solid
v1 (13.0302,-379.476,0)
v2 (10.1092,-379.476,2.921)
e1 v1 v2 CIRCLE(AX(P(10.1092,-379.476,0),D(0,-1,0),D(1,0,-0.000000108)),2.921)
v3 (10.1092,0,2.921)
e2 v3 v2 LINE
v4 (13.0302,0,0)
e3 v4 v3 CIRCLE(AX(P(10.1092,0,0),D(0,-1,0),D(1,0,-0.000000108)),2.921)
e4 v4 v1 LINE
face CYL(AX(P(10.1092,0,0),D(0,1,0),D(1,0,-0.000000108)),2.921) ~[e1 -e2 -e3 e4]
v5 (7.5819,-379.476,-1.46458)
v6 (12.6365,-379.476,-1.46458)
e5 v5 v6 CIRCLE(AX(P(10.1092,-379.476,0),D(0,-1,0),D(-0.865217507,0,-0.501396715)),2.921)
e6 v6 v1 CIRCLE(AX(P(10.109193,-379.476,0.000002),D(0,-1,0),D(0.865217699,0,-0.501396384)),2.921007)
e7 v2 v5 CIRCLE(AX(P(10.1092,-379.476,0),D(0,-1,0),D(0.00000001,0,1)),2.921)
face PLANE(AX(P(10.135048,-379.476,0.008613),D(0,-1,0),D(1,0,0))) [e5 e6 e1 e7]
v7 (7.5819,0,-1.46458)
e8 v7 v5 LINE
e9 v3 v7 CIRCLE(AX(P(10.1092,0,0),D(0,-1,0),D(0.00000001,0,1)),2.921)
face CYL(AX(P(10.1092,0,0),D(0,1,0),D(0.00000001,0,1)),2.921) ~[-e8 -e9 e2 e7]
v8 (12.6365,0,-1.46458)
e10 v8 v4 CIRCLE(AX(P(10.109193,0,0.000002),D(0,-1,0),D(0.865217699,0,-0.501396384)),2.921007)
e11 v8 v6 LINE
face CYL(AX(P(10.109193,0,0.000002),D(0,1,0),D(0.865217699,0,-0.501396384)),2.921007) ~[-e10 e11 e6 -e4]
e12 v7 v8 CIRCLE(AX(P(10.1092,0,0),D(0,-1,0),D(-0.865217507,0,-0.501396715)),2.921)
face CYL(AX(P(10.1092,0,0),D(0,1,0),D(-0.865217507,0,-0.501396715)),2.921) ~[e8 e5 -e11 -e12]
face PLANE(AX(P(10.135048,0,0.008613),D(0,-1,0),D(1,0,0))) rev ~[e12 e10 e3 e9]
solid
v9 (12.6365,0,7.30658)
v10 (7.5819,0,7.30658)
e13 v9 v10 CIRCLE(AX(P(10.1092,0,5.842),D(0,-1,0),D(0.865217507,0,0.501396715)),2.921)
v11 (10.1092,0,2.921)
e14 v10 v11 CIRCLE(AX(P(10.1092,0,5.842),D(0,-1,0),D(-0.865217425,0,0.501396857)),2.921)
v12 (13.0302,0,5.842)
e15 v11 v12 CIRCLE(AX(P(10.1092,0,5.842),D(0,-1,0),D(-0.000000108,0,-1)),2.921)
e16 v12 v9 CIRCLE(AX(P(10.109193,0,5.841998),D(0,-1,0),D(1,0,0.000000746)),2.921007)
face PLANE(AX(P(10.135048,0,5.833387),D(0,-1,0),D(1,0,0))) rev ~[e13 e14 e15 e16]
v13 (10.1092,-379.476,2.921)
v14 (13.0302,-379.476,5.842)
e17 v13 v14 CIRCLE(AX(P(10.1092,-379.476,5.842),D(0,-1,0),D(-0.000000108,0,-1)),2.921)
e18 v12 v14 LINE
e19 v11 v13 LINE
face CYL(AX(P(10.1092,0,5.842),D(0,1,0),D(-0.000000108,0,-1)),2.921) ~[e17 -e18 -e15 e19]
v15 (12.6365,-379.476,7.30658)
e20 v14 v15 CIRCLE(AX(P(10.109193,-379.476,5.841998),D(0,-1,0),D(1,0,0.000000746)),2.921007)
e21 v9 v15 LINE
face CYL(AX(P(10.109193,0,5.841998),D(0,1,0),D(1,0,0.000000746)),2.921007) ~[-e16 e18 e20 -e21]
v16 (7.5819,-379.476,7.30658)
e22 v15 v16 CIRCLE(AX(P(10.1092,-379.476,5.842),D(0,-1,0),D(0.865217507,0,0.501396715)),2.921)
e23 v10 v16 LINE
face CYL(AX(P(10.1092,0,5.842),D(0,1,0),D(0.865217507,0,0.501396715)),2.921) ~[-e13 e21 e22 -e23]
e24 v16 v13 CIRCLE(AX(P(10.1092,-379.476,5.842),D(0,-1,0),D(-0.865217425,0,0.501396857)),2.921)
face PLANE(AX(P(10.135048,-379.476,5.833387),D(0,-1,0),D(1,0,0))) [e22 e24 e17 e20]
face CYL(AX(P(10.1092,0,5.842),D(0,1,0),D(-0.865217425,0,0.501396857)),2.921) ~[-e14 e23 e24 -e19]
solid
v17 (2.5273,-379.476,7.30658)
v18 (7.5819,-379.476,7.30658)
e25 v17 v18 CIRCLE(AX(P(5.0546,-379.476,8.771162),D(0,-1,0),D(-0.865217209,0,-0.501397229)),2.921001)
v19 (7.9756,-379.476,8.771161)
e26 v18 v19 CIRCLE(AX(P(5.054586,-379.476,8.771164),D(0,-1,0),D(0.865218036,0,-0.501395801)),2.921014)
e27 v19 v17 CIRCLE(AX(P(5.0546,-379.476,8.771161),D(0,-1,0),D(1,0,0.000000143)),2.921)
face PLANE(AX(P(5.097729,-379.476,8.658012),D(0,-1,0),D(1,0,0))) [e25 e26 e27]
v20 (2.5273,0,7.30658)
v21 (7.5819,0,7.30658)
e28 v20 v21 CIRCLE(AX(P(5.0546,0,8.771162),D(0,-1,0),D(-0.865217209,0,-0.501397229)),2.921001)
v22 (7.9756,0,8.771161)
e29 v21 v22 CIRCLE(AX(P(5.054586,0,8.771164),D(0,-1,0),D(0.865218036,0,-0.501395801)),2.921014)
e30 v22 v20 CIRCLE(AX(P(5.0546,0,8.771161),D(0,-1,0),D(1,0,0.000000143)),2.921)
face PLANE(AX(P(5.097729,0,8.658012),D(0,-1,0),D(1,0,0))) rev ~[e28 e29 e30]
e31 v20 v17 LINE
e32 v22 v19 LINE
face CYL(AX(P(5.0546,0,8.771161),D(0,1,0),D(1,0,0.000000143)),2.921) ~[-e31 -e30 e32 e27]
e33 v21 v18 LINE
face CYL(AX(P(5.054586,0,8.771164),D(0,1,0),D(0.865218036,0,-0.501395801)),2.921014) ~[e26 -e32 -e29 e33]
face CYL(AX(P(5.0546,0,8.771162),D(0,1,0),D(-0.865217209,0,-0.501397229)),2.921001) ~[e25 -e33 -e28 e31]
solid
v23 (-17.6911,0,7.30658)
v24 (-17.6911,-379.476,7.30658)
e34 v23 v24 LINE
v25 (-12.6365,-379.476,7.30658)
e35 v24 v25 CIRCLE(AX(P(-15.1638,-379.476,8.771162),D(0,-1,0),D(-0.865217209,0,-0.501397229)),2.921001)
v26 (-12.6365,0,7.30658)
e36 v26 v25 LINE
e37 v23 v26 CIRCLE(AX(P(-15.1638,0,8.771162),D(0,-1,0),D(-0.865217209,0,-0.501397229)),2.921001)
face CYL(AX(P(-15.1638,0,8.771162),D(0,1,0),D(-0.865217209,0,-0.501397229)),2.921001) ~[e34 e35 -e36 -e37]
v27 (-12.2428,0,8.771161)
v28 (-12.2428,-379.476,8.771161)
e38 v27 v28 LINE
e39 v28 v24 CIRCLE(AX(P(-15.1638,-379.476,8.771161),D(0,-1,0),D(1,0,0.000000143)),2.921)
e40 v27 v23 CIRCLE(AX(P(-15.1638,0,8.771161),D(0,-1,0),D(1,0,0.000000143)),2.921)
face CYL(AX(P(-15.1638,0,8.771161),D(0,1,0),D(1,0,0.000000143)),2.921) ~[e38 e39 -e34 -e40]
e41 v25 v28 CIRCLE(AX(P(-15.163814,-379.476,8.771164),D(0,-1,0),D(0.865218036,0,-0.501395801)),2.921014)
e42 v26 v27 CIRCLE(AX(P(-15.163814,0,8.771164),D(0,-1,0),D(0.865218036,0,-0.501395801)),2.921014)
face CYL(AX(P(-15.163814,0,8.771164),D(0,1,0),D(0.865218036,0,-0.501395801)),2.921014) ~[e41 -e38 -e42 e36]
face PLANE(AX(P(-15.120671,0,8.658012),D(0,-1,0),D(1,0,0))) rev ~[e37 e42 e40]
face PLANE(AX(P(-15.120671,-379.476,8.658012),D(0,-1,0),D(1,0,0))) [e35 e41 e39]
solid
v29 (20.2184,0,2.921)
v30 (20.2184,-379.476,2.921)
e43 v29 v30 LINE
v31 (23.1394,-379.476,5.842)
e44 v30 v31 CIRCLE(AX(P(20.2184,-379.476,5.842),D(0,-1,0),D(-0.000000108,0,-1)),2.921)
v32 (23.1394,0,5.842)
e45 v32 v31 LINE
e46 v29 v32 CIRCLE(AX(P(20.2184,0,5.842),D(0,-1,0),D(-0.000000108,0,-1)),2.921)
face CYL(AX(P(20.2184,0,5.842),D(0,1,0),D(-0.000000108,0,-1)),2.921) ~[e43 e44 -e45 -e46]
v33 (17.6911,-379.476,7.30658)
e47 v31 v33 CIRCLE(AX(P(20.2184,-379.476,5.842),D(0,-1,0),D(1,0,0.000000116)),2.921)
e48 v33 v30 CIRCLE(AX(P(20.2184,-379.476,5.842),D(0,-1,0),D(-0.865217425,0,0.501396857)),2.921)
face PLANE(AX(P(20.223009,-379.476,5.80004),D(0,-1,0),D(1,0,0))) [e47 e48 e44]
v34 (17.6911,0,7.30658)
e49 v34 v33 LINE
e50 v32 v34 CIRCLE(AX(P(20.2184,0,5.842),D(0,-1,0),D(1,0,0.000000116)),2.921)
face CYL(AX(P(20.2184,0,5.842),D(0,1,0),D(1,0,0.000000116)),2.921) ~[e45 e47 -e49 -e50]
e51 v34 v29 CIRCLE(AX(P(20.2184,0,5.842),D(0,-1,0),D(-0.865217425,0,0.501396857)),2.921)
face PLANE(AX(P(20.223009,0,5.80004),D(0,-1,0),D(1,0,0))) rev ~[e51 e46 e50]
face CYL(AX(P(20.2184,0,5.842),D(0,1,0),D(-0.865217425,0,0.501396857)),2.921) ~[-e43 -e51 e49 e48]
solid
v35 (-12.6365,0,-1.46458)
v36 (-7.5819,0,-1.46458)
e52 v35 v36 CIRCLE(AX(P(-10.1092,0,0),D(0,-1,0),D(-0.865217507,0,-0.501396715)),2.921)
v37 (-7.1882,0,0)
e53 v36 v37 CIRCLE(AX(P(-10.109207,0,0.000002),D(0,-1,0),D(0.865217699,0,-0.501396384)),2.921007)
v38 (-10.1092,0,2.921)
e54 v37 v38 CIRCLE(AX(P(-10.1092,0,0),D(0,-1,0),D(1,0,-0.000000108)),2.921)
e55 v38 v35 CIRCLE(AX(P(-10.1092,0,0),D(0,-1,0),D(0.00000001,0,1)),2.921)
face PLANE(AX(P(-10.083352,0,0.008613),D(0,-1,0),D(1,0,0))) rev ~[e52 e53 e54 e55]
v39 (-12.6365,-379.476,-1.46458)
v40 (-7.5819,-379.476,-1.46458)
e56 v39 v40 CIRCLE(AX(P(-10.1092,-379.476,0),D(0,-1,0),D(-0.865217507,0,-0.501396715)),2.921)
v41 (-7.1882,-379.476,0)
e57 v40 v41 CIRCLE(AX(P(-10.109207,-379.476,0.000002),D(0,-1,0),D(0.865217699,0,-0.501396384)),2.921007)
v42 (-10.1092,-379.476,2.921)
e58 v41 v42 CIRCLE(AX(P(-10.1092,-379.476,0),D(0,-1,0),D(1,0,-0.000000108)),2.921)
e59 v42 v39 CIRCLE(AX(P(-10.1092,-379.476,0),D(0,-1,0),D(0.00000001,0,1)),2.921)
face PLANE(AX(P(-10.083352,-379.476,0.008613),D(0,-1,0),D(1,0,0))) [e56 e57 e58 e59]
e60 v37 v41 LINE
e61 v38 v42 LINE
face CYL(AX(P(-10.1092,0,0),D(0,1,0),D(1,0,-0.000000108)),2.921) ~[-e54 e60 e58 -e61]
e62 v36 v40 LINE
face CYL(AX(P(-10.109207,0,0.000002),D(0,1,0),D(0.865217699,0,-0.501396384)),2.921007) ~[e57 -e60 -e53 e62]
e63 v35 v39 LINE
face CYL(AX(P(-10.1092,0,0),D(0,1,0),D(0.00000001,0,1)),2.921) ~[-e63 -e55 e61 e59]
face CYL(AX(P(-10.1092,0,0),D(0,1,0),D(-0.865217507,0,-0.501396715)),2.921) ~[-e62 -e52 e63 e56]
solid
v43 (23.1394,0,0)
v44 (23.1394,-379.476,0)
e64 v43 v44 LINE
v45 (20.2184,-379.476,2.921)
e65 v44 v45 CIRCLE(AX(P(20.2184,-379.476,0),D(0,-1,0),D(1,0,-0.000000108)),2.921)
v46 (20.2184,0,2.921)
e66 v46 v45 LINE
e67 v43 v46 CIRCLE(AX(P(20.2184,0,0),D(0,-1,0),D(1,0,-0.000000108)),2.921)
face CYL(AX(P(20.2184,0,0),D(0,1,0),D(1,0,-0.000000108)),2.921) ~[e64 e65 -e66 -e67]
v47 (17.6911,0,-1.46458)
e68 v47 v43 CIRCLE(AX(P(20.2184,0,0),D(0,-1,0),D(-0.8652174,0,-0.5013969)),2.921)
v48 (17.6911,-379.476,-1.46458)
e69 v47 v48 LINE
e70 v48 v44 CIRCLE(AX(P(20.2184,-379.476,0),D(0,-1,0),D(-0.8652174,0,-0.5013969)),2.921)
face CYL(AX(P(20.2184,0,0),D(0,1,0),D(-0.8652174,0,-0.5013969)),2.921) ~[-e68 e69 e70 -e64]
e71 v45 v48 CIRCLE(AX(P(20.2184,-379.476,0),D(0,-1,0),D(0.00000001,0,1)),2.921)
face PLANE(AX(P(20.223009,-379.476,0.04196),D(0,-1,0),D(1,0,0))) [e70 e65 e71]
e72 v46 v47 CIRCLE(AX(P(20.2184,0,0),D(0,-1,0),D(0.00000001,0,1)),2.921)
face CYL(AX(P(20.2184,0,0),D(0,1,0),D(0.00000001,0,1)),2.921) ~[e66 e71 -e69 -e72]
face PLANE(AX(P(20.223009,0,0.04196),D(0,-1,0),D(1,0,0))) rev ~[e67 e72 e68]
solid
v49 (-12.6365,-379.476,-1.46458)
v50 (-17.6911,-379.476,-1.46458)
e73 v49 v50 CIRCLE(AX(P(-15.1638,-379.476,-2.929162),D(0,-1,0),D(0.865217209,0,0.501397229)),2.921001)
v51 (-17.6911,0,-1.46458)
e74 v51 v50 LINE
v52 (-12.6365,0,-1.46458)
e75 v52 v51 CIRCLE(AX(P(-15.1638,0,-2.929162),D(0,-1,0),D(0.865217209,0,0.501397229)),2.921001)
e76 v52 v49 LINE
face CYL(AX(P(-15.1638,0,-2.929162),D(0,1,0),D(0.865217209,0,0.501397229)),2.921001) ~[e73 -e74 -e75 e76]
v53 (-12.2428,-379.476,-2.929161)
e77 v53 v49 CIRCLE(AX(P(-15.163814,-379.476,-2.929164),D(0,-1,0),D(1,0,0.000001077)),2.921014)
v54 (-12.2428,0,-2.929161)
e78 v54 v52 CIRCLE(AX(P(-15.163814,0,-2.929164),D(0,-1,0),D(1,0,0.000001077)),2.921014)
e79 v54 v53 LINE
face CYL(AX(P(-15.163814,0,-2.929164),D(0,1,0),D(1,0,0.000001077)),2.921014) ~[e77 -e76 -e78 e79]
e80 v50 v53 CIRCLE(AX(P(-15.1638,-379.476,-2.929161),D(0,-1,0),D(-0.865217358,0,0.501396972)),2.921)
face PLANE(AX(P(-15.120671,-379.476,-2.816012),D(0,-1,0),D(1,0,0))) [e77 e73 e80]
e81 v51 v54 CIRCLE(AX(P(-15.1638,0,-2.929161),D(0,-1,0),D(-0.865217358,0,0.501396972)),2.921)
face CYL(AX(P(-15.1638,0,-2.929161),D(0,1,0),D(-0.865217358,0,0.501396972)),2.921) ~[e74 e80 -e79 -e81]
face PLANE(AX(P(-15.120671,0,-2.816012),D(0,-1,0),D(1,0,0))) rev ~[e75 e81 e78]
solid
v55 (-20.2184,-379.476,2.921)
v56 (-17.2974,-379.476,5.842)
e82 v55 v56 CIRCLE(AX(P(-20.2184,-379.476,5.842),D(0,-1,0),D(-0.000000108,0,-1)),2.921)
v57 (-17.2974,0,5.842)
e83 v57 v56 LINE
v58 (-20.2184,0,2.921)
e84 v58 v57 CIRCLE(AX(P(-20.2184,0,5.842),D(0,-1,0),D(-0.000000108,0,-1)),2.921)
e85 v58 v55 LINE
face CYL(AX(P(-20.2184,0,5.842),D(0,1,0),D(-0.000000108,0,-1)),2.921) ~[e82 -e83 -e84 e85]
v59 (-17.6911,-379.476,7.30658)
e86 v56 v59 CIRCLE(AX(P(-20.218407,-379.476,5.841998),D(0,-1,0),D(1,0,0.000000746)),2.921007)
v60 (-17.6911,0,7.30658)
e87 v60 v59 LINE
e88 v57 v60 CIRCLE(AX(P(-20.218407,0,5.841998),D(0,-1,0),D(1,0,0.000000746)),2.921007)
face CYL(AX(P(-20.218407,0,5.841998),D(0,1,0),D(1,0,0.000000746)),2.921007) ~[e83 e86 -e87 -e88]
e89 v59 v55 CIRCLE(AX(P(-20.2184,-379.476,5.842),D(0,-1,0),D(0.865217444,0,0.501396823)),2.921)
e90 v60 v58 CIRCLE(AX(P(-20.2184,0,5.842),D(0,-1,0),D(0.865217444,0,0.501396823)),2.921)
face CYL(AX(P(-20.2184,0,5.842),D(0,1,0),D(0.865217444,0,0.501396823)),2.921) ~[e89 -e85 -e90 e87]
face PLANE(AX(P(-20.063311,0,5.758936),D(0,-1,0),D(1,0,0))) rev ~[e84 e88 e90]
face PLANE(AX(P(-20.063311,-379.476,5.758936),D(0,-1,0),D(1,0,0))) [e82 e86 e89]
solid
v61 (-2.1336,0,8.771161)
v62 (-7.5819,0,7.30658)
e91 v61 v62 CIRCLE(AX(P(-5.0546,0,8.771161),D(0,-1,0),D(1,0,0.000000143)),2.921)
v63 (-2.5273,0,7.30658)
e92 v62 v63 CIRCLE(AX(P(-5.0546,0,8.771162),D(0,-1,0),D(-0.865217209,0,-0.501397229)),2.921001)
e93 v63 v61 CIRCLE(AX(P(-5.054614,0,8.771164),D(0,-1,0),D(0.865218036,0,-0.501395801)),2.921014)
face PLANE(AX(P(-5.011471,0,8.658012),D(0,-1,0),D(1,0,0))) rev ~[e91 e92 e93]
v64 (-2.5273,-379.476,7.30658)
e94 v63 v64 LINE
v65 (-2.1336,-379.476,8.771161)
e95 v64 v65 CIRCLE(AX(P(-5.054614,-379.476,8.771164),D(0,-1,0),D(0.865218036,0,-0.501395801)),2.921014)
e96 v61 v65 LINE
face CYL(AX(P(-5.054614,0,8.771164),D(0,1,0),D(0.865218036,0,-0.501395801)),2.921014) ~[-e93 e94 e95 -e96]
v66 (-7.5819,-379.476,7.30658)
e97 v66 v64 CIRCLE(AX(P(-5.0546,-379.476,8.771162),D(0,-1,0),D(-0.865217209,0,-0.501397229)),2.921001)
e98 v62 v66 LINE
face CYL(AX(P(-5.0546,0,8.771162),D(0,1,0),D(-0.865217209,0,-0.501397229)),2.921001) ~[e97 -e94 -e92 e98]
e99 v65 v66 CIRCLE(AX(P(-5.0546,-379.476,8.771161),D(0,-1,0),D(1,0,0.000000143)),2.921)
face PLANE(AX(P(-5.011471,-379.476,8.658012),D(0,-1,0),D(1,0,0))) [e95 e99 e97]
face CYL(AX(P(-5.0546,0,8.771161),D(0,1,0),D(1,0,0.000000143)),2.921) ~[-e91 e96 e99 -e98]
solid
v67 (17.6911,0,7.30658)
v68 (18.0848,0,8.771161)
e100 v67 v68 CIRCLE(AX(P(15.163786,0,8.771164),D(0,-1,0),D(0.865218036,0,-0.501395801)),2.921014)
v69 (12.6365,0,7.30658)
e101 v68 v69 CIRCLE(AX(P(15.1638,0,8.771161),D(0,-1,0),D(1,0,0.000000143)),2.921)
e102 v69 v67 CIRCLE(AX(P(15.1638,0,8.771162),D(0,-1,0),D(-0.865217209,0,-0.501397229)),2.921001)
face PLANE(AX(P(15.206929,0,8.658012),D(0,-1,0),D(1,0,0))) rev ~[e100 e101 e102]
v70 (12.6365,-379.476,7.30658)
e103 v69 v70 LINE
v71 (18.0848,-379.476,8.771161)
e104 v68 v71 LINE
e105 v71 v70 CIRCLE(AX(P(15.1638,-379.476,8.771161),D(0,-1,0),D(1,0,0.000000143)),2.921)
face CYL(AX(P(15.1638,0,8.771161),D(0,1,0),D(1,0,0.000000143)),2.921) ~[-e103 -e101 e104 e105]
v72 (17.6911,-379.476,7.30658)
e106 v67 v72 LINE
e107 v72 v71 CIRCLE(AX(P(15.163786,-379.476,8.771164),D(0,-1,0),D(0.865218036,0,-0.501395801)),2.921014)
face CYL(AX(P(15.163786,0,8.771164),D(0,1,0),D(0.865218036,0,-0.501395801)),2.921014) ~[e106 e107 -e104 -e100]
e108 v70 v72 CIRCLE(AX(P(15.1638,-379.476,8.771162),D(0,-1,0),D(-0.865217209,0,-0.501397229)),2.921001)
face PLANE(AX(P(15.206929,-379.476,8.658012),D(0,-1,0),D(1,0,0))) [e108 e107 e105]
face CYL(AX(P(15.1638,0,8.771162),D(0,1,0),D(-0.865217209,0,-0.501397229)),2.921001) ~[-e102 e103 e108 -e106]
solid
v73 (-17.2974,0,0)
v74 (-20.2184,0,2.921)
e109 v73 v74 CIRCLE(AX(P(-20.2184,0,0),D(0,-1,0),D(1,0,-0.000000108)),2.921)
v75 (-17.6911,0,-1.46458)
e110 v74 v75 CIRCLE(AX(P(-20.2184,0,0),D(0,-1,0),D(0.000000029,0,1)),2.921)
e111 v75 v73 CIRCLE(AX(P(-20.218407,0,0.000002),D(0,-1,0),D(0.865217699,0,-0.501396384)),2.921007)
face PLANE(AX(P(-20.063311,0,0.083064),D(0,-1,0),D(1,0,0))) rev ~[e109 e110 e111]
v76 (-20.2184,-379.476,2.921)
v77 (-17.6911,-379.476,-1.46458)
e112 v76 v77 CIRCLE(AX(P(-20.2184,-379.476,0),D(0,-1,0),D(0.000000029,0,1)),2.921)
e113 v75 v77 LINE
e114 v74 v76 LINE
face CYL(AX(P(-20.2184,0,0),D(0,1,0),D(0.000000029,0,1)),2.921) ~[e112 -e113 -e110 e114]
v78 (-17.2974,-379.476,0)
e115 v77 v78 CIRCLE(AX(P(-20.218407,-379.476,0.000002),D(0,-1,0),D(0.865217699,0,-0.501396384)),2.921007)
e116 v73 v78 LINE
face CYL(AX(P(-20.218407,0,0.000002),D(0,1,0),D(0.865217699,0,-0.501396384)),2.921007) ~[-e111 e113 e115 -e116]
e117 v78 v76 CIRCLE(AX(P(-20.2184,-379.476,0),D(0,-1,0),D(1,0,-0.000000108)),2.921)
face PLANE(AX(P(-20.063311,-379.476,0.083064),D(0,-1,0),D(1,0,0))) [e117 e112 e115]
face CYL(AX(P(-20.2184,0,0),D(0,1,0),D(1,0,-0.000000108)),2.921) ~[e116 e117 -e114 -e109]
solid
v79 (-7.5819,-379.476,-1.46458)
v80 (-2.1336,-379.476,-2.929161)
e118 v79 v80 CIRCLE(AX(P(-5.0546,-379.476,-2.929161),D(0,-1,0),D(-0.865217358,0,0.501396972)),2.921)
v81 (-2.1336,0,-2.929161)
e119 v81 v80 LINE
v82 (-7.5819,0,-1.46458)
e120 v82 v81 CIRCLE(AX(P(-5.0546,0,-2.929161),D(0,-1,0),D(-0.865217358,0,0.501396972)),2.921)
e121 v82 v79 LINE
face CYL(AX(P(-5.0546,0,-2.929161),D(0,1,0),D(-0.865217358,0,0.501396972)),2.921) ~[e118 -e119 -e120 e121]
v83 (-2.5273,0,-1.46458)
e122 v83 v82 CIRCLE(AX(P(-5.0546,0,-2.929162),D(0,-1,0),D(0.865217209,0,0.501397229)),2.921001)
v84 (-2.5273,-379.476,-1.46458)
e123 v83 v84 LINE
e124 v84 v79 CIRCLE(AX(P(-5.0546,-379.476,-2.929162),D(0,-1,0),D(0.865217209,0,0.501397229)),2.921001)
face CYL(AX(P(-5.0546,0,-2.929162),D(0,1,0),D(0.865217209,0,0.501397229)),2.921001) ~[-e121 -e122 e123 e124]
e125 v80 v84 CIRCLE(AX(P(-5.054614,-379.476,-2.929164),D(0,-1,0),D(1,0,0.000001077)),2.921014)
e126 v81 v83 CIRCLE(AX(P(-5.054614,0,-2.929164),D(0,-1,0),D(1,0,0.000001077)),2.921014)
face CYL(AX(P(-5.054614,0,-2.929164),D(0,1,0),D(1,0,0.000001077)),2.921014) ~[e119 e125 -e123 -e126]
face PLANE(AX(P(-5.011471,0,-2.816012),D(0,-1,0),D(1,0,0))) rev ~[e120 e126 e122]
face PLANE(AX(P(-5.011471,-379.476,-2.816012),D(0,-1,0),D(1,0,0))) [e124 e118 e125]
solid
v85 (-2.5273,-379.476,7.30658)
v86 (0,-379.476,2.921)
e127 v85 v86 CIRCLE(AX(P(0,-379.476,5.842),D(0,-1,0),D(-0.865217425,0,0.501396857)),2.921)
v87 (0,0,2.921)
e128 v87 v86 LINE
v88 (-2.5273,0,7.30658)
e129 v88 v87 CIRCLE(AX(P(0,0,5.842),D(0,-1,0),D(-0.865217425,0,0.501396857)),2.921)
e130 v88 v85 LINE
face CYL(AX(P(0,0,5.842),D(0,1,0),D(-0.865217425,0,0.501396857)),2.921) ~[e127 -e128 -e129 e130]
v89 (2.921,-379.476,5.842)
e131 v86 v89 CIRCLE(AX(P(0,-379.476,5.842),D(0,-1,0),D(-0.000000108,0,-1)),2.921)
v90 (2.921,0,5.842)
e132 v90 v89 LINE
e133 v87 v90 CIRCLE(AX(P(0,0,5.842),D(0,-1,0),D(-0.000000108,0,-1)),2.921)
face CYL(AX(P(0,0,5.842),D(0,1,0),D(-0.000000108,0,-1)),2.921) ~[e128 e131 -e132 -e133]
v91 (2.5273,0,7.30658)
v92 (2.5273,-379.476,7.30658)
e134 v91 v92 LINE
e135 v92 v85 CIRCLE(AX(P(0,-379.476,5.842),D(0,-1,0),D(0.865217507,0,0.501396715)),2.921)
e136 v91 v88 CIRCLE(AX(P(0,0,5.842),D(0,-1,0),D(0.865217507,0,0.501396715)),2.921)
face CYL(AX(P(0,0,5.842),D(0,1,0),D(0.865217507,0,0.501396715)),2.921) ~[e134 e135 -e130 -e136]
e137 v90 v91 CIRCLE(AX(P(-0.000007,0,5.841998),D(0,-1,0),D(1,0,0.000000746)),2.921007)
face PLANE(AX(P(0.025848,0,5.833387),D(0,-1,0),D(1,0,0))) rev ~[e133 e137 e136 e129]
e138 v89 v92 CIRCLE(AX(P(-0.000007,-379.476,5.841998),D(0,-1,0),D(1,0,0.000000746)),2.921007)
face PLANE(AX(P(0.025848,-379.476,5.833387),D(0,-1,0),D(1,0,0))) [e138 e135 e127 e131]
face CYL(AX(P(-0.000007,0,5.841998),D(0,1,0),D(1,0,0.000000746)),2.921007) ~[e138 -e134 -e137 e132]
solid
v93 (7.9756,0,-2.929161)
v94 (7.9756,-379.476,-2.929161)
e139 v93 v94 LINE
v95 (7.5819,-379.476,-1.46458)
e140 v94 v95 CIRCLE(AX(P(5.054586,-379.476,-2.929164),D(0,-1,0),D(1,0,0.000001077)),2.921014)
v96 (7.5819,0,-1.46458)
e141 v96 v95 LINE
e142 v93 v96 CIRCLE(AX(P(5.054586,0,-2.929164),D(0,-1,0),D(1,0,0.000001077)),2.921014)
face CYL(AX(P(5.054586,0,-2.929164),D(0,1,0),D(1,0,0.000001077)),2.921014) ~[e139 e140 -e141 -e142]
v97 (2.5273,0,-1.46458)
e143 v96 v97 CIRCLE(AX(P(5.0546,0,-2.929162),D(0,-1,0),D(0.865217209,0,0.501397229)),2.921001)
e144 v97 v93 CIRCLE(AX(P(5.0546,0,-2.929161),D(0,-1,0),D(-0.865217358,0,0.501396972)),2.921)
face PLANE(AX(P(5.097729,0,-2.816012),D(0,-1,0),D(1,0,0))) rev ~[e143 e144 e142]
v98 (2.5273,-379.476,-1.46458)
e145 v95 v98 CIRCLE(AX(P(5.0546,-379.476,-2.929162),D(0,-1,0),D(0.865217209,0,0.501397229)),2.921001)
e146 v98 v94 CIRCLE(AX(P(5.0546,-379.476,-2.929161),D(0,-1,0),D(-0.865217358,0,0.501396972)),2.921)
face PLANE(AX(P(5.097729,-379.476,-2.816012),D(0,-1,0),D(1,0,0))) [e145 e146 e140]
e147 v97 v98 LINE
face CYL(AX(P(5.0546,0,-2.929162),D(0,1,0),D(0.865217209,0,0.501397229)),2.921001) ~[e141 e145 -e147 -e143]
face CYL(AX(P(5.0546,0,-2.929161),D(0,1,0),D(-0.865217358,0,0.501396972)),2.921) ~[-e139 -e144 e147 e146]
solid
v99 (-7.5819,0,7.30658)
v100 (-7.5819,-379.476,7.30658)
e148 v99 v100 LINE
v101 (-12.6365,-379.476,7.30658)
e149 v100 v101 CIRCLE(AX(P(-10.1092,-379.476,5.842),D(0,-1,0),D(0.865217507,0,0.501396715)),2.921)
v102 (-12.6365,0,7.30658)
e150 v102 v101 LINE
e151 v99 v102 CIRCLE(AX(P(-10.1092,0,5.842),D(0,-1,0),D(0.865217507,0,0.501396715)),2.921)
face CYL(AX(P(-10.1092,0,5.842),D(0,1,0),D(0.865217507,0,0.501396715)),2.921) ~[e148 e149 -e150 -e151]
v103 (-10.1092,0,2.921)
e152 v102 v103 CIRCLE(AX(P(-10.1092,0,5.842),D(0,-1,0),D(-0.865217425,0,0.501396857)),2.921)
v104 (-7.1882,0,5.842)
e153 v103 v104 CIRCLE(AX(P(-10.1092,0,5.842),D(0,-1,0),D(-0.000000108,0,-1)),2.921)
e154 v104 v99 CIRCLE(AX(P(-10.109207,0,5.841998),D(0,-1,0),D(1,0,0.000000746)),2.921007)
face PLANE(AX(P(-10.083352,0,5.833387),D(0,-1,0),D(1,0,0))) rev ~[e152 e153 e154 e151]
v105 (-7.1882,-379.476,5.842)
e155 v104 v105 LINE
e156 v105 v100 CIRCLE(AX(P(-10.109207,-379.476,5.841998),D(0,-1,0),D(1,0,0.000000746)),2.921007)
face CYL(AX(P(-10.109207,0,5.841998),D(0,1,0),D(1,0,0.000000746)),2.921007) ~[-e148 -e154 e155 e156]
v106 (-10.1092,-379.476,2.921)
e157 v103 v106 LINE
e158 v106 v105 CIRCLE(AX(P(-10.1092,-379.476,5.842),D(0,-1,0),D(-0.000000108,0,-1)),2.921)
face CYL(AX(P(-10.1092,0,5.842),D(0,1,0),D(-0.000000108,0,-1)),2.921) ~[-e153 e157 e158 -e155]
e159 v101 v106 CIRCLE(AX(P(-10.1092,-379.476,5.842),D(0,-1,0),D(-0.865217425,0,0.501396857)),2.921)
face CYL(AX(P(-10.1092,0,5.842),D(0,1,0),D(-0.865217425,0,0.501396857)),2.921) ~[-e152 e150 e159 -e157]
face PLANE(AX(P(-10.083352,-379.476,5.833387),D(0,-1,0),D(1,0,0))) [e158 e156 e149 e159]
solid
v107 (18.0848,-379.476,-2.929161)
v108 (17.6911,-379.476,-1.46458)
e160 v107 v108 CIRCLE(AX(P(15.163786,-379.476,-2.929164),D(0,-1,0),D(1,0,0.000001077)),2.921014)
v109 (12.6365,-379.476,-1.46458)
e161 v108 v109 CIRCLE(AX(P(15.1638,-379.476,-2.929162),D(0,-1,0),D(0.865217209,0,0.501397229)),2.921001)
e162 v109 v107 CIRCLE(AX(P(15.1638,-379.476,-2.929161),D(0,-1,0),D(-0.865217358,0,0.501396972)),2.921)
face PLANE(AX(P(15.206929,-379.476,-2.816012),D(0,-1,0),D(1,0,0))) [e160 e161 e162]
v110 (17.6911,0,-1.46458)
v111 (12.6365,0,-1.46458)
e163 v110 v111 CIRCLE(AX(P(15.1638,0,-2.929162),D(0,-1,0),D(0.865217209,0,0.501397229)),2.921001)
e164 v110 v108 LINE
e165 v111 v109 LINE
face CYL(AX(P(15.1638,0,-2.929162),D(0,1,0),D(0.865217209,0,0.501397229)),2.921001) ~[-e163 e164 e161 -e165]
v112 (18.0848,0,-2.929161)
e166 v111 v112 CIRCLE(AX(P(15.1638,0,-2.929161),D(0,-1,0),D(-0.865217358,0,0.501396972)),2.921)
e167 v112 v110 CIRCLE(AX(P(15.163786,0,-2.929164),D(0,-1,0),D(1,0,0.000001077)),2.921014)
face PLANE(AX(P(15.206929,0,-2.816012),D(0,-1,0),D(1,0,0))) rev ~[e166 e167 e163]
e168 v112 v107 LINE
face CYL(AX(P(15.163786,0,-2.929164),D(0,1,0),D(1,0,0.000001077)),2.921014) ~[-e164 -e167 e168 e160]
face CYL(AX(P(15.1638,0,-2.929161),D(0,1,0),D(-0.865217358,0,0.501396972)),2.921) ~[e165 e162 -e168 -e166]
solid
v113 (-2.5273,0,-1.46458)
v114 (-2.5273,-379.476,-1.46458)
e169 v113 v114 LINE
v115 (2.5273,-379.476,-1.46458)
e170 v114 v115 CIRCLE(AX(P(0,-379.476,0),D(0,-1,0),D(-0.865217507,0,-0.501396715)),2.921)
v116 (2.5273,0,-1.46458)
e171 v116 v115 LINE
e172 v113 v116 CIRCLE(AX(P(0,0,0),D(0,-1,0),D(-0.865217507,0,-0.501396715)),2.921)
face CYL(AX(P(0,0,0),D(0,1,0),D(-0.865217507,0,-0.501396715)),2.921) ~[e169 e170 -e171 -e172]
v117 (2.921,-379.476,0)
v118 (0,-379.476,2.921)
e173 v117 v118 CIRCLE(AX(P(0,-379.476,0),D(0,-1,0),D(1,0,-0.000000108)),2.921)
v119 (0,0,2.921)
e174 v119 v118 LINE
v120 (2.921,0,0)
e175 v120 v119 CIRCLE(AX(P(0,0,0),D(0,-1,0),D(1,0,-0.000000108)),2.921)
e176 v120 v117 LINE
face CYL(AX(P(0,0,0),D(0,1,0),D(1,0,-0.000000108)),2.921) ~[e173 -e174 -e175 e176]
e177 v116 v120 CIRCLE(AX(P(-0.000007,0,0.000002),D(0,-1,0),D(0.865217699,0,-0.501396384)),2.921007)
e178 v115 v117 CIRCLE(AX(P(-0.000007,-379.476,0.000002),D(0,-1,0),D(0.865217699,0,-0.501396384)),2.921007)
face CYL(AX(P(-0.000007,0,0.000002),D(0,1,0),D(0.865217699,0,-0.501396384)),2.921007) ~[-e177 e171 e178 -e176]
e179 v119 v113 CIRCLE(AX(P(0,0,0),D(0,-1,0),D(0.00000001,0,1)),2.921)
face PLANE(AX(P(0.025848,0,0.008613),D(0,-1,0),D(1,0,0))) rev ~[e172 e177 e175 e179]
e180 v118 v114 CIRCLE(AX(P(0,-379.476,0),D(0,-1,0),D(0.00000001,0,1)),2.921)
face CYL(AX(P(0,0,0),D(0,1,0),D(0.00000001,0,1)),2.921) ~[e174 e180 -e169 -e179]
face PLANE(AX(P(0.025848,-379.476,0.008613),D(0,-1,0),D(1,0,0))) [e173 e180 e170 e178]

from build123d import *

# Parameters (mm, degrees)
F1_DEPTH = 379.476


with BuildPart() as f1:
    # F0 (on Front) → F1 (new body)
    with BuildSketch(Plane.XZ):
        with BuildLine():
            ThreePointArc((20.2184, 2.921), (17.687562, 1.458458), (17.6911, -1.46458))
            ThreePointArc((17.6911, -1.46458), (20.976687, -2.820858), (23.1394, 0))
            ThreePointArc((23.1394, 0), (22.283859, 2.065459), (20.2184, 2.921))
        make_face()
        with BuildLine():
            ThreePointArc((17.6911, -1.46458), (15.1638, -0.008161), (12.6365, -1.46458))
            ThreePointArc((12.6365, -1.46458), (14.405513, -5.750019), (18.0848, -2.929161))
            ThreePointArc((18.0848, -2.929161), (17.984658, -2.170874), (17.6911, -1.46458))
        make_face()
        with BuildLine():
            ThreePointArc((7.5819, -1.46458), (5.0546, -0.008161), (2.5273, -1.46458))
            ThreePointArc((2.5273, -1.46458), (4.296313, -5.750019), (7.9756, -2.929161))
            ThreePointArc((7.9756, -2.929161), (7.875458, -2.170874), (7.5819, -1.46458))
        make_face()
        with BuildLine():
            ThreePointArc((7.9756, 8.771161), (4.296313, 11.592019), (2.5273, 7.30658))
            ThreePointArc((2.5273, 7.30658), (5.0546, 5.850161), (7.5819, 7.30658))
            ThreePointArc((7.5819, 7.30658), (7.875458, 8.012874), (7.9756, 8.771161))
        make_face()
        with BuildLine():
            ThreePointArc((-7.5819, 7.30658), (-5.0546, 5.850161), (-2.5273, 7.30658))
            ThreePointArc((-2.5273, 7.30658), (-2.233742, 8.012874), (-2.1336, 8.771161))
            ThreePointArc((-2.1336, 8.771161), (-5.812887, 11.592019), (-7.5819, 7.30658))
        make_face()
        with BuildLine():
            ThreePointArc((7.5819, 7.30658), (7.578362, 4.383542), (10.1092, 2.921))
            ThreePointArc((10.1092, 2.921), (12.174659, 3.776541), (13.0302, 5.842))
            ThreePointArc((13.0302, 5.842), (12.930058, 6.600287), (12.6365, 7.30658))
            ThreePointArc((12.6365, 7.30658), (10.1092, 8.763), (7.5819, 7.30658))
        make_face()
        with BuildLine():
            ThreePointArc((-12.6365, -1.46458), (-10.1092, -2.921), (-7.5819, -1.46458))
            ThreePointArc((-7.5819, -1.46458), (-7.288342, -0.758287), (-7.1882, 0))
            ThreePointArc((-7.1882, 0), (-8.043741, 2.065459), (-10.1092, 2.921))
            ThreePointArc((-10.1092, 2.921), (-12.640038, 1.458458), (-12.6365, -1.46458))
        make_face()
        with BuildLine():
            ThreePointArc((-2.1336, -2.929161), (-2.233742, -2.170874), (-2.5273, -1.46458))
            ThreePointArc((-2.5273, -1.46458), (-5.0546, -0.008161), (-7.5819, -1.46458))
            ThreePointArc((-7.5819, -1.46458), (-5.812887, -5.750019), (-2.1336, -2.929161))
        make_face()
        with BuildLine():
            ThreePointArc((10.1092, 2.921), (7.578362, 1.458458), (7.5819, -1.46458))
            ThreePointArc((7.5819, -1.46458), (10.1092, -2.921), (12.6365, -1.46458))
            ThreePointArc((12.6365, -1.46458), (12.930058, -0.758287), (13.0302, 0))
            ThreePointArc((13.0302, 0), (12.174659, 2.065459), (10.1092, 2.921))
        make_face()
        with BuildLine():
            ThreePointArc((-2.5273, 7.30658), (-2.530838, 4.383542), (0, 2.921))
            ThreePointArc((0, 2.921), (2.065459, 3.776541), (2.921, 5.842))
            ThreePointArc((2.921, 5.842), (2.820858, 6.600287), (2.5273, 7.30658))
            ThreePointArc((2.5273, 7.30658), (0, 8.763), (-2.5273, 7.30658))
        make_face()
        with BuildLine():
            ThreePointArc((-7.1882, 5.842), (-7.288342, 6.600287), (-7.5819, 7.30658))
            ThreePointArc((-7.5819, 7.30658), (-10.1092, 8.763), (-12.6365, 7.30658))
            ThreePointArc((-12.6365, 7.30658), (-12.640038, 4.383542), (-10.1092, 2.921))
            ThreePointArc((-10.1092, 2.921), (-8.043741, 3.776541), (-7.1882, 5.842))
        make_face()
        with BuildLine():
            ThreePointArc((18.0848, 8.771161), (14.405513, 11.592019), (12.6365, 7.30658))
            ThreePointArc((12.6365, 7.30658), (15.1638, 5.850161), (17.6911, 7.30658))
            ThreePointArc((17.6911, 7.30658), (17.984658, 8.012874), (18.0848, 8.771161))
        make_face()
        with BuildLine():
            ThreePointArc((-12.2428, -2.929161), (-12.342942, -2.170874), (-12.6365, -1.46458))
            ThreePointArc((-12.6365, -1.46458), (-15.1638, -0.008161), (-17.6911, -1.46458))
            ThreePointArc((-17.6911, -1.46458), (-15.922087, -5.750019), (-12.2428, -2.929161))
        make_face()
        with BuildLine():
            ThreePointArc((17.6911, 7.30658), (17.687562, 4.383542), (20.2184, 2.921))
            ThreePointArc((20.2184, 2.921), (22.283859, 3.776541), (23.1394, 5.842))
            ThreePointArc((23.1394, 5.842), (20.976687, 8.662858), (17.6911, 7.30658))
        make_face()
        with BuildLine():
            ThreePointArc((-17.6911, 7.30658), (-15.1638, 5.850161), (-12.6365, 7.30658))
            ThreePointArc((-12.6365, 7.30658), (-12.342942, 8.012874), (-12.2428, 8.771161))
            ThreePointArc((-12.2428, 8.771161), (-15.922087, 11.592019), (-17.6911, 7.30658))
        make_face()
        with BuildLine():
            ThreePointArc((-17.2974, 5.842), (-17.397542, 6.600287), (-17.6911, 7.30658))
            ThreePointArc((-17.6911, 7.30658), (-22.749238, 7.300458), (-20.2184, 2.921))
            ThreePointArc((-20.2184, 2.921), (-18.152941, 3.776541), (-17.2974, 5.842))
        make_face()
        with BuildLine():
            ThreePointArc((-20.2184, 2.921), (-22.749238, -1.458458), (-17.6911, -1.46458))
            ThreePointArc((-17.6911, -1.46458), (-17.397542, -0.758287), (-17.2974, 0))
            ThreePointArc((-17.2974, 0), (-18.152941, 2.065459), (-20.2184, 2.921))
        make_face()
        with BuildLine():
            ThreePointArc((2.5273, -1.46458), (2.820858, -0.758287), (2.921, 0))
            ThreePointArc((2.921, 0), (2.065459, 2.065459), (0, 2.921))
            ThreePointArc((0, 2.921), (-2.530838, 1.458458), (-2.5273, -1.46458))
            ThreePointArc((-2.5273, -1.46458), (0, -2.921), (2.5273, -1.46458))
        make_face()
    extrude(amount=F1_DEPTH)


solid = f1.part
